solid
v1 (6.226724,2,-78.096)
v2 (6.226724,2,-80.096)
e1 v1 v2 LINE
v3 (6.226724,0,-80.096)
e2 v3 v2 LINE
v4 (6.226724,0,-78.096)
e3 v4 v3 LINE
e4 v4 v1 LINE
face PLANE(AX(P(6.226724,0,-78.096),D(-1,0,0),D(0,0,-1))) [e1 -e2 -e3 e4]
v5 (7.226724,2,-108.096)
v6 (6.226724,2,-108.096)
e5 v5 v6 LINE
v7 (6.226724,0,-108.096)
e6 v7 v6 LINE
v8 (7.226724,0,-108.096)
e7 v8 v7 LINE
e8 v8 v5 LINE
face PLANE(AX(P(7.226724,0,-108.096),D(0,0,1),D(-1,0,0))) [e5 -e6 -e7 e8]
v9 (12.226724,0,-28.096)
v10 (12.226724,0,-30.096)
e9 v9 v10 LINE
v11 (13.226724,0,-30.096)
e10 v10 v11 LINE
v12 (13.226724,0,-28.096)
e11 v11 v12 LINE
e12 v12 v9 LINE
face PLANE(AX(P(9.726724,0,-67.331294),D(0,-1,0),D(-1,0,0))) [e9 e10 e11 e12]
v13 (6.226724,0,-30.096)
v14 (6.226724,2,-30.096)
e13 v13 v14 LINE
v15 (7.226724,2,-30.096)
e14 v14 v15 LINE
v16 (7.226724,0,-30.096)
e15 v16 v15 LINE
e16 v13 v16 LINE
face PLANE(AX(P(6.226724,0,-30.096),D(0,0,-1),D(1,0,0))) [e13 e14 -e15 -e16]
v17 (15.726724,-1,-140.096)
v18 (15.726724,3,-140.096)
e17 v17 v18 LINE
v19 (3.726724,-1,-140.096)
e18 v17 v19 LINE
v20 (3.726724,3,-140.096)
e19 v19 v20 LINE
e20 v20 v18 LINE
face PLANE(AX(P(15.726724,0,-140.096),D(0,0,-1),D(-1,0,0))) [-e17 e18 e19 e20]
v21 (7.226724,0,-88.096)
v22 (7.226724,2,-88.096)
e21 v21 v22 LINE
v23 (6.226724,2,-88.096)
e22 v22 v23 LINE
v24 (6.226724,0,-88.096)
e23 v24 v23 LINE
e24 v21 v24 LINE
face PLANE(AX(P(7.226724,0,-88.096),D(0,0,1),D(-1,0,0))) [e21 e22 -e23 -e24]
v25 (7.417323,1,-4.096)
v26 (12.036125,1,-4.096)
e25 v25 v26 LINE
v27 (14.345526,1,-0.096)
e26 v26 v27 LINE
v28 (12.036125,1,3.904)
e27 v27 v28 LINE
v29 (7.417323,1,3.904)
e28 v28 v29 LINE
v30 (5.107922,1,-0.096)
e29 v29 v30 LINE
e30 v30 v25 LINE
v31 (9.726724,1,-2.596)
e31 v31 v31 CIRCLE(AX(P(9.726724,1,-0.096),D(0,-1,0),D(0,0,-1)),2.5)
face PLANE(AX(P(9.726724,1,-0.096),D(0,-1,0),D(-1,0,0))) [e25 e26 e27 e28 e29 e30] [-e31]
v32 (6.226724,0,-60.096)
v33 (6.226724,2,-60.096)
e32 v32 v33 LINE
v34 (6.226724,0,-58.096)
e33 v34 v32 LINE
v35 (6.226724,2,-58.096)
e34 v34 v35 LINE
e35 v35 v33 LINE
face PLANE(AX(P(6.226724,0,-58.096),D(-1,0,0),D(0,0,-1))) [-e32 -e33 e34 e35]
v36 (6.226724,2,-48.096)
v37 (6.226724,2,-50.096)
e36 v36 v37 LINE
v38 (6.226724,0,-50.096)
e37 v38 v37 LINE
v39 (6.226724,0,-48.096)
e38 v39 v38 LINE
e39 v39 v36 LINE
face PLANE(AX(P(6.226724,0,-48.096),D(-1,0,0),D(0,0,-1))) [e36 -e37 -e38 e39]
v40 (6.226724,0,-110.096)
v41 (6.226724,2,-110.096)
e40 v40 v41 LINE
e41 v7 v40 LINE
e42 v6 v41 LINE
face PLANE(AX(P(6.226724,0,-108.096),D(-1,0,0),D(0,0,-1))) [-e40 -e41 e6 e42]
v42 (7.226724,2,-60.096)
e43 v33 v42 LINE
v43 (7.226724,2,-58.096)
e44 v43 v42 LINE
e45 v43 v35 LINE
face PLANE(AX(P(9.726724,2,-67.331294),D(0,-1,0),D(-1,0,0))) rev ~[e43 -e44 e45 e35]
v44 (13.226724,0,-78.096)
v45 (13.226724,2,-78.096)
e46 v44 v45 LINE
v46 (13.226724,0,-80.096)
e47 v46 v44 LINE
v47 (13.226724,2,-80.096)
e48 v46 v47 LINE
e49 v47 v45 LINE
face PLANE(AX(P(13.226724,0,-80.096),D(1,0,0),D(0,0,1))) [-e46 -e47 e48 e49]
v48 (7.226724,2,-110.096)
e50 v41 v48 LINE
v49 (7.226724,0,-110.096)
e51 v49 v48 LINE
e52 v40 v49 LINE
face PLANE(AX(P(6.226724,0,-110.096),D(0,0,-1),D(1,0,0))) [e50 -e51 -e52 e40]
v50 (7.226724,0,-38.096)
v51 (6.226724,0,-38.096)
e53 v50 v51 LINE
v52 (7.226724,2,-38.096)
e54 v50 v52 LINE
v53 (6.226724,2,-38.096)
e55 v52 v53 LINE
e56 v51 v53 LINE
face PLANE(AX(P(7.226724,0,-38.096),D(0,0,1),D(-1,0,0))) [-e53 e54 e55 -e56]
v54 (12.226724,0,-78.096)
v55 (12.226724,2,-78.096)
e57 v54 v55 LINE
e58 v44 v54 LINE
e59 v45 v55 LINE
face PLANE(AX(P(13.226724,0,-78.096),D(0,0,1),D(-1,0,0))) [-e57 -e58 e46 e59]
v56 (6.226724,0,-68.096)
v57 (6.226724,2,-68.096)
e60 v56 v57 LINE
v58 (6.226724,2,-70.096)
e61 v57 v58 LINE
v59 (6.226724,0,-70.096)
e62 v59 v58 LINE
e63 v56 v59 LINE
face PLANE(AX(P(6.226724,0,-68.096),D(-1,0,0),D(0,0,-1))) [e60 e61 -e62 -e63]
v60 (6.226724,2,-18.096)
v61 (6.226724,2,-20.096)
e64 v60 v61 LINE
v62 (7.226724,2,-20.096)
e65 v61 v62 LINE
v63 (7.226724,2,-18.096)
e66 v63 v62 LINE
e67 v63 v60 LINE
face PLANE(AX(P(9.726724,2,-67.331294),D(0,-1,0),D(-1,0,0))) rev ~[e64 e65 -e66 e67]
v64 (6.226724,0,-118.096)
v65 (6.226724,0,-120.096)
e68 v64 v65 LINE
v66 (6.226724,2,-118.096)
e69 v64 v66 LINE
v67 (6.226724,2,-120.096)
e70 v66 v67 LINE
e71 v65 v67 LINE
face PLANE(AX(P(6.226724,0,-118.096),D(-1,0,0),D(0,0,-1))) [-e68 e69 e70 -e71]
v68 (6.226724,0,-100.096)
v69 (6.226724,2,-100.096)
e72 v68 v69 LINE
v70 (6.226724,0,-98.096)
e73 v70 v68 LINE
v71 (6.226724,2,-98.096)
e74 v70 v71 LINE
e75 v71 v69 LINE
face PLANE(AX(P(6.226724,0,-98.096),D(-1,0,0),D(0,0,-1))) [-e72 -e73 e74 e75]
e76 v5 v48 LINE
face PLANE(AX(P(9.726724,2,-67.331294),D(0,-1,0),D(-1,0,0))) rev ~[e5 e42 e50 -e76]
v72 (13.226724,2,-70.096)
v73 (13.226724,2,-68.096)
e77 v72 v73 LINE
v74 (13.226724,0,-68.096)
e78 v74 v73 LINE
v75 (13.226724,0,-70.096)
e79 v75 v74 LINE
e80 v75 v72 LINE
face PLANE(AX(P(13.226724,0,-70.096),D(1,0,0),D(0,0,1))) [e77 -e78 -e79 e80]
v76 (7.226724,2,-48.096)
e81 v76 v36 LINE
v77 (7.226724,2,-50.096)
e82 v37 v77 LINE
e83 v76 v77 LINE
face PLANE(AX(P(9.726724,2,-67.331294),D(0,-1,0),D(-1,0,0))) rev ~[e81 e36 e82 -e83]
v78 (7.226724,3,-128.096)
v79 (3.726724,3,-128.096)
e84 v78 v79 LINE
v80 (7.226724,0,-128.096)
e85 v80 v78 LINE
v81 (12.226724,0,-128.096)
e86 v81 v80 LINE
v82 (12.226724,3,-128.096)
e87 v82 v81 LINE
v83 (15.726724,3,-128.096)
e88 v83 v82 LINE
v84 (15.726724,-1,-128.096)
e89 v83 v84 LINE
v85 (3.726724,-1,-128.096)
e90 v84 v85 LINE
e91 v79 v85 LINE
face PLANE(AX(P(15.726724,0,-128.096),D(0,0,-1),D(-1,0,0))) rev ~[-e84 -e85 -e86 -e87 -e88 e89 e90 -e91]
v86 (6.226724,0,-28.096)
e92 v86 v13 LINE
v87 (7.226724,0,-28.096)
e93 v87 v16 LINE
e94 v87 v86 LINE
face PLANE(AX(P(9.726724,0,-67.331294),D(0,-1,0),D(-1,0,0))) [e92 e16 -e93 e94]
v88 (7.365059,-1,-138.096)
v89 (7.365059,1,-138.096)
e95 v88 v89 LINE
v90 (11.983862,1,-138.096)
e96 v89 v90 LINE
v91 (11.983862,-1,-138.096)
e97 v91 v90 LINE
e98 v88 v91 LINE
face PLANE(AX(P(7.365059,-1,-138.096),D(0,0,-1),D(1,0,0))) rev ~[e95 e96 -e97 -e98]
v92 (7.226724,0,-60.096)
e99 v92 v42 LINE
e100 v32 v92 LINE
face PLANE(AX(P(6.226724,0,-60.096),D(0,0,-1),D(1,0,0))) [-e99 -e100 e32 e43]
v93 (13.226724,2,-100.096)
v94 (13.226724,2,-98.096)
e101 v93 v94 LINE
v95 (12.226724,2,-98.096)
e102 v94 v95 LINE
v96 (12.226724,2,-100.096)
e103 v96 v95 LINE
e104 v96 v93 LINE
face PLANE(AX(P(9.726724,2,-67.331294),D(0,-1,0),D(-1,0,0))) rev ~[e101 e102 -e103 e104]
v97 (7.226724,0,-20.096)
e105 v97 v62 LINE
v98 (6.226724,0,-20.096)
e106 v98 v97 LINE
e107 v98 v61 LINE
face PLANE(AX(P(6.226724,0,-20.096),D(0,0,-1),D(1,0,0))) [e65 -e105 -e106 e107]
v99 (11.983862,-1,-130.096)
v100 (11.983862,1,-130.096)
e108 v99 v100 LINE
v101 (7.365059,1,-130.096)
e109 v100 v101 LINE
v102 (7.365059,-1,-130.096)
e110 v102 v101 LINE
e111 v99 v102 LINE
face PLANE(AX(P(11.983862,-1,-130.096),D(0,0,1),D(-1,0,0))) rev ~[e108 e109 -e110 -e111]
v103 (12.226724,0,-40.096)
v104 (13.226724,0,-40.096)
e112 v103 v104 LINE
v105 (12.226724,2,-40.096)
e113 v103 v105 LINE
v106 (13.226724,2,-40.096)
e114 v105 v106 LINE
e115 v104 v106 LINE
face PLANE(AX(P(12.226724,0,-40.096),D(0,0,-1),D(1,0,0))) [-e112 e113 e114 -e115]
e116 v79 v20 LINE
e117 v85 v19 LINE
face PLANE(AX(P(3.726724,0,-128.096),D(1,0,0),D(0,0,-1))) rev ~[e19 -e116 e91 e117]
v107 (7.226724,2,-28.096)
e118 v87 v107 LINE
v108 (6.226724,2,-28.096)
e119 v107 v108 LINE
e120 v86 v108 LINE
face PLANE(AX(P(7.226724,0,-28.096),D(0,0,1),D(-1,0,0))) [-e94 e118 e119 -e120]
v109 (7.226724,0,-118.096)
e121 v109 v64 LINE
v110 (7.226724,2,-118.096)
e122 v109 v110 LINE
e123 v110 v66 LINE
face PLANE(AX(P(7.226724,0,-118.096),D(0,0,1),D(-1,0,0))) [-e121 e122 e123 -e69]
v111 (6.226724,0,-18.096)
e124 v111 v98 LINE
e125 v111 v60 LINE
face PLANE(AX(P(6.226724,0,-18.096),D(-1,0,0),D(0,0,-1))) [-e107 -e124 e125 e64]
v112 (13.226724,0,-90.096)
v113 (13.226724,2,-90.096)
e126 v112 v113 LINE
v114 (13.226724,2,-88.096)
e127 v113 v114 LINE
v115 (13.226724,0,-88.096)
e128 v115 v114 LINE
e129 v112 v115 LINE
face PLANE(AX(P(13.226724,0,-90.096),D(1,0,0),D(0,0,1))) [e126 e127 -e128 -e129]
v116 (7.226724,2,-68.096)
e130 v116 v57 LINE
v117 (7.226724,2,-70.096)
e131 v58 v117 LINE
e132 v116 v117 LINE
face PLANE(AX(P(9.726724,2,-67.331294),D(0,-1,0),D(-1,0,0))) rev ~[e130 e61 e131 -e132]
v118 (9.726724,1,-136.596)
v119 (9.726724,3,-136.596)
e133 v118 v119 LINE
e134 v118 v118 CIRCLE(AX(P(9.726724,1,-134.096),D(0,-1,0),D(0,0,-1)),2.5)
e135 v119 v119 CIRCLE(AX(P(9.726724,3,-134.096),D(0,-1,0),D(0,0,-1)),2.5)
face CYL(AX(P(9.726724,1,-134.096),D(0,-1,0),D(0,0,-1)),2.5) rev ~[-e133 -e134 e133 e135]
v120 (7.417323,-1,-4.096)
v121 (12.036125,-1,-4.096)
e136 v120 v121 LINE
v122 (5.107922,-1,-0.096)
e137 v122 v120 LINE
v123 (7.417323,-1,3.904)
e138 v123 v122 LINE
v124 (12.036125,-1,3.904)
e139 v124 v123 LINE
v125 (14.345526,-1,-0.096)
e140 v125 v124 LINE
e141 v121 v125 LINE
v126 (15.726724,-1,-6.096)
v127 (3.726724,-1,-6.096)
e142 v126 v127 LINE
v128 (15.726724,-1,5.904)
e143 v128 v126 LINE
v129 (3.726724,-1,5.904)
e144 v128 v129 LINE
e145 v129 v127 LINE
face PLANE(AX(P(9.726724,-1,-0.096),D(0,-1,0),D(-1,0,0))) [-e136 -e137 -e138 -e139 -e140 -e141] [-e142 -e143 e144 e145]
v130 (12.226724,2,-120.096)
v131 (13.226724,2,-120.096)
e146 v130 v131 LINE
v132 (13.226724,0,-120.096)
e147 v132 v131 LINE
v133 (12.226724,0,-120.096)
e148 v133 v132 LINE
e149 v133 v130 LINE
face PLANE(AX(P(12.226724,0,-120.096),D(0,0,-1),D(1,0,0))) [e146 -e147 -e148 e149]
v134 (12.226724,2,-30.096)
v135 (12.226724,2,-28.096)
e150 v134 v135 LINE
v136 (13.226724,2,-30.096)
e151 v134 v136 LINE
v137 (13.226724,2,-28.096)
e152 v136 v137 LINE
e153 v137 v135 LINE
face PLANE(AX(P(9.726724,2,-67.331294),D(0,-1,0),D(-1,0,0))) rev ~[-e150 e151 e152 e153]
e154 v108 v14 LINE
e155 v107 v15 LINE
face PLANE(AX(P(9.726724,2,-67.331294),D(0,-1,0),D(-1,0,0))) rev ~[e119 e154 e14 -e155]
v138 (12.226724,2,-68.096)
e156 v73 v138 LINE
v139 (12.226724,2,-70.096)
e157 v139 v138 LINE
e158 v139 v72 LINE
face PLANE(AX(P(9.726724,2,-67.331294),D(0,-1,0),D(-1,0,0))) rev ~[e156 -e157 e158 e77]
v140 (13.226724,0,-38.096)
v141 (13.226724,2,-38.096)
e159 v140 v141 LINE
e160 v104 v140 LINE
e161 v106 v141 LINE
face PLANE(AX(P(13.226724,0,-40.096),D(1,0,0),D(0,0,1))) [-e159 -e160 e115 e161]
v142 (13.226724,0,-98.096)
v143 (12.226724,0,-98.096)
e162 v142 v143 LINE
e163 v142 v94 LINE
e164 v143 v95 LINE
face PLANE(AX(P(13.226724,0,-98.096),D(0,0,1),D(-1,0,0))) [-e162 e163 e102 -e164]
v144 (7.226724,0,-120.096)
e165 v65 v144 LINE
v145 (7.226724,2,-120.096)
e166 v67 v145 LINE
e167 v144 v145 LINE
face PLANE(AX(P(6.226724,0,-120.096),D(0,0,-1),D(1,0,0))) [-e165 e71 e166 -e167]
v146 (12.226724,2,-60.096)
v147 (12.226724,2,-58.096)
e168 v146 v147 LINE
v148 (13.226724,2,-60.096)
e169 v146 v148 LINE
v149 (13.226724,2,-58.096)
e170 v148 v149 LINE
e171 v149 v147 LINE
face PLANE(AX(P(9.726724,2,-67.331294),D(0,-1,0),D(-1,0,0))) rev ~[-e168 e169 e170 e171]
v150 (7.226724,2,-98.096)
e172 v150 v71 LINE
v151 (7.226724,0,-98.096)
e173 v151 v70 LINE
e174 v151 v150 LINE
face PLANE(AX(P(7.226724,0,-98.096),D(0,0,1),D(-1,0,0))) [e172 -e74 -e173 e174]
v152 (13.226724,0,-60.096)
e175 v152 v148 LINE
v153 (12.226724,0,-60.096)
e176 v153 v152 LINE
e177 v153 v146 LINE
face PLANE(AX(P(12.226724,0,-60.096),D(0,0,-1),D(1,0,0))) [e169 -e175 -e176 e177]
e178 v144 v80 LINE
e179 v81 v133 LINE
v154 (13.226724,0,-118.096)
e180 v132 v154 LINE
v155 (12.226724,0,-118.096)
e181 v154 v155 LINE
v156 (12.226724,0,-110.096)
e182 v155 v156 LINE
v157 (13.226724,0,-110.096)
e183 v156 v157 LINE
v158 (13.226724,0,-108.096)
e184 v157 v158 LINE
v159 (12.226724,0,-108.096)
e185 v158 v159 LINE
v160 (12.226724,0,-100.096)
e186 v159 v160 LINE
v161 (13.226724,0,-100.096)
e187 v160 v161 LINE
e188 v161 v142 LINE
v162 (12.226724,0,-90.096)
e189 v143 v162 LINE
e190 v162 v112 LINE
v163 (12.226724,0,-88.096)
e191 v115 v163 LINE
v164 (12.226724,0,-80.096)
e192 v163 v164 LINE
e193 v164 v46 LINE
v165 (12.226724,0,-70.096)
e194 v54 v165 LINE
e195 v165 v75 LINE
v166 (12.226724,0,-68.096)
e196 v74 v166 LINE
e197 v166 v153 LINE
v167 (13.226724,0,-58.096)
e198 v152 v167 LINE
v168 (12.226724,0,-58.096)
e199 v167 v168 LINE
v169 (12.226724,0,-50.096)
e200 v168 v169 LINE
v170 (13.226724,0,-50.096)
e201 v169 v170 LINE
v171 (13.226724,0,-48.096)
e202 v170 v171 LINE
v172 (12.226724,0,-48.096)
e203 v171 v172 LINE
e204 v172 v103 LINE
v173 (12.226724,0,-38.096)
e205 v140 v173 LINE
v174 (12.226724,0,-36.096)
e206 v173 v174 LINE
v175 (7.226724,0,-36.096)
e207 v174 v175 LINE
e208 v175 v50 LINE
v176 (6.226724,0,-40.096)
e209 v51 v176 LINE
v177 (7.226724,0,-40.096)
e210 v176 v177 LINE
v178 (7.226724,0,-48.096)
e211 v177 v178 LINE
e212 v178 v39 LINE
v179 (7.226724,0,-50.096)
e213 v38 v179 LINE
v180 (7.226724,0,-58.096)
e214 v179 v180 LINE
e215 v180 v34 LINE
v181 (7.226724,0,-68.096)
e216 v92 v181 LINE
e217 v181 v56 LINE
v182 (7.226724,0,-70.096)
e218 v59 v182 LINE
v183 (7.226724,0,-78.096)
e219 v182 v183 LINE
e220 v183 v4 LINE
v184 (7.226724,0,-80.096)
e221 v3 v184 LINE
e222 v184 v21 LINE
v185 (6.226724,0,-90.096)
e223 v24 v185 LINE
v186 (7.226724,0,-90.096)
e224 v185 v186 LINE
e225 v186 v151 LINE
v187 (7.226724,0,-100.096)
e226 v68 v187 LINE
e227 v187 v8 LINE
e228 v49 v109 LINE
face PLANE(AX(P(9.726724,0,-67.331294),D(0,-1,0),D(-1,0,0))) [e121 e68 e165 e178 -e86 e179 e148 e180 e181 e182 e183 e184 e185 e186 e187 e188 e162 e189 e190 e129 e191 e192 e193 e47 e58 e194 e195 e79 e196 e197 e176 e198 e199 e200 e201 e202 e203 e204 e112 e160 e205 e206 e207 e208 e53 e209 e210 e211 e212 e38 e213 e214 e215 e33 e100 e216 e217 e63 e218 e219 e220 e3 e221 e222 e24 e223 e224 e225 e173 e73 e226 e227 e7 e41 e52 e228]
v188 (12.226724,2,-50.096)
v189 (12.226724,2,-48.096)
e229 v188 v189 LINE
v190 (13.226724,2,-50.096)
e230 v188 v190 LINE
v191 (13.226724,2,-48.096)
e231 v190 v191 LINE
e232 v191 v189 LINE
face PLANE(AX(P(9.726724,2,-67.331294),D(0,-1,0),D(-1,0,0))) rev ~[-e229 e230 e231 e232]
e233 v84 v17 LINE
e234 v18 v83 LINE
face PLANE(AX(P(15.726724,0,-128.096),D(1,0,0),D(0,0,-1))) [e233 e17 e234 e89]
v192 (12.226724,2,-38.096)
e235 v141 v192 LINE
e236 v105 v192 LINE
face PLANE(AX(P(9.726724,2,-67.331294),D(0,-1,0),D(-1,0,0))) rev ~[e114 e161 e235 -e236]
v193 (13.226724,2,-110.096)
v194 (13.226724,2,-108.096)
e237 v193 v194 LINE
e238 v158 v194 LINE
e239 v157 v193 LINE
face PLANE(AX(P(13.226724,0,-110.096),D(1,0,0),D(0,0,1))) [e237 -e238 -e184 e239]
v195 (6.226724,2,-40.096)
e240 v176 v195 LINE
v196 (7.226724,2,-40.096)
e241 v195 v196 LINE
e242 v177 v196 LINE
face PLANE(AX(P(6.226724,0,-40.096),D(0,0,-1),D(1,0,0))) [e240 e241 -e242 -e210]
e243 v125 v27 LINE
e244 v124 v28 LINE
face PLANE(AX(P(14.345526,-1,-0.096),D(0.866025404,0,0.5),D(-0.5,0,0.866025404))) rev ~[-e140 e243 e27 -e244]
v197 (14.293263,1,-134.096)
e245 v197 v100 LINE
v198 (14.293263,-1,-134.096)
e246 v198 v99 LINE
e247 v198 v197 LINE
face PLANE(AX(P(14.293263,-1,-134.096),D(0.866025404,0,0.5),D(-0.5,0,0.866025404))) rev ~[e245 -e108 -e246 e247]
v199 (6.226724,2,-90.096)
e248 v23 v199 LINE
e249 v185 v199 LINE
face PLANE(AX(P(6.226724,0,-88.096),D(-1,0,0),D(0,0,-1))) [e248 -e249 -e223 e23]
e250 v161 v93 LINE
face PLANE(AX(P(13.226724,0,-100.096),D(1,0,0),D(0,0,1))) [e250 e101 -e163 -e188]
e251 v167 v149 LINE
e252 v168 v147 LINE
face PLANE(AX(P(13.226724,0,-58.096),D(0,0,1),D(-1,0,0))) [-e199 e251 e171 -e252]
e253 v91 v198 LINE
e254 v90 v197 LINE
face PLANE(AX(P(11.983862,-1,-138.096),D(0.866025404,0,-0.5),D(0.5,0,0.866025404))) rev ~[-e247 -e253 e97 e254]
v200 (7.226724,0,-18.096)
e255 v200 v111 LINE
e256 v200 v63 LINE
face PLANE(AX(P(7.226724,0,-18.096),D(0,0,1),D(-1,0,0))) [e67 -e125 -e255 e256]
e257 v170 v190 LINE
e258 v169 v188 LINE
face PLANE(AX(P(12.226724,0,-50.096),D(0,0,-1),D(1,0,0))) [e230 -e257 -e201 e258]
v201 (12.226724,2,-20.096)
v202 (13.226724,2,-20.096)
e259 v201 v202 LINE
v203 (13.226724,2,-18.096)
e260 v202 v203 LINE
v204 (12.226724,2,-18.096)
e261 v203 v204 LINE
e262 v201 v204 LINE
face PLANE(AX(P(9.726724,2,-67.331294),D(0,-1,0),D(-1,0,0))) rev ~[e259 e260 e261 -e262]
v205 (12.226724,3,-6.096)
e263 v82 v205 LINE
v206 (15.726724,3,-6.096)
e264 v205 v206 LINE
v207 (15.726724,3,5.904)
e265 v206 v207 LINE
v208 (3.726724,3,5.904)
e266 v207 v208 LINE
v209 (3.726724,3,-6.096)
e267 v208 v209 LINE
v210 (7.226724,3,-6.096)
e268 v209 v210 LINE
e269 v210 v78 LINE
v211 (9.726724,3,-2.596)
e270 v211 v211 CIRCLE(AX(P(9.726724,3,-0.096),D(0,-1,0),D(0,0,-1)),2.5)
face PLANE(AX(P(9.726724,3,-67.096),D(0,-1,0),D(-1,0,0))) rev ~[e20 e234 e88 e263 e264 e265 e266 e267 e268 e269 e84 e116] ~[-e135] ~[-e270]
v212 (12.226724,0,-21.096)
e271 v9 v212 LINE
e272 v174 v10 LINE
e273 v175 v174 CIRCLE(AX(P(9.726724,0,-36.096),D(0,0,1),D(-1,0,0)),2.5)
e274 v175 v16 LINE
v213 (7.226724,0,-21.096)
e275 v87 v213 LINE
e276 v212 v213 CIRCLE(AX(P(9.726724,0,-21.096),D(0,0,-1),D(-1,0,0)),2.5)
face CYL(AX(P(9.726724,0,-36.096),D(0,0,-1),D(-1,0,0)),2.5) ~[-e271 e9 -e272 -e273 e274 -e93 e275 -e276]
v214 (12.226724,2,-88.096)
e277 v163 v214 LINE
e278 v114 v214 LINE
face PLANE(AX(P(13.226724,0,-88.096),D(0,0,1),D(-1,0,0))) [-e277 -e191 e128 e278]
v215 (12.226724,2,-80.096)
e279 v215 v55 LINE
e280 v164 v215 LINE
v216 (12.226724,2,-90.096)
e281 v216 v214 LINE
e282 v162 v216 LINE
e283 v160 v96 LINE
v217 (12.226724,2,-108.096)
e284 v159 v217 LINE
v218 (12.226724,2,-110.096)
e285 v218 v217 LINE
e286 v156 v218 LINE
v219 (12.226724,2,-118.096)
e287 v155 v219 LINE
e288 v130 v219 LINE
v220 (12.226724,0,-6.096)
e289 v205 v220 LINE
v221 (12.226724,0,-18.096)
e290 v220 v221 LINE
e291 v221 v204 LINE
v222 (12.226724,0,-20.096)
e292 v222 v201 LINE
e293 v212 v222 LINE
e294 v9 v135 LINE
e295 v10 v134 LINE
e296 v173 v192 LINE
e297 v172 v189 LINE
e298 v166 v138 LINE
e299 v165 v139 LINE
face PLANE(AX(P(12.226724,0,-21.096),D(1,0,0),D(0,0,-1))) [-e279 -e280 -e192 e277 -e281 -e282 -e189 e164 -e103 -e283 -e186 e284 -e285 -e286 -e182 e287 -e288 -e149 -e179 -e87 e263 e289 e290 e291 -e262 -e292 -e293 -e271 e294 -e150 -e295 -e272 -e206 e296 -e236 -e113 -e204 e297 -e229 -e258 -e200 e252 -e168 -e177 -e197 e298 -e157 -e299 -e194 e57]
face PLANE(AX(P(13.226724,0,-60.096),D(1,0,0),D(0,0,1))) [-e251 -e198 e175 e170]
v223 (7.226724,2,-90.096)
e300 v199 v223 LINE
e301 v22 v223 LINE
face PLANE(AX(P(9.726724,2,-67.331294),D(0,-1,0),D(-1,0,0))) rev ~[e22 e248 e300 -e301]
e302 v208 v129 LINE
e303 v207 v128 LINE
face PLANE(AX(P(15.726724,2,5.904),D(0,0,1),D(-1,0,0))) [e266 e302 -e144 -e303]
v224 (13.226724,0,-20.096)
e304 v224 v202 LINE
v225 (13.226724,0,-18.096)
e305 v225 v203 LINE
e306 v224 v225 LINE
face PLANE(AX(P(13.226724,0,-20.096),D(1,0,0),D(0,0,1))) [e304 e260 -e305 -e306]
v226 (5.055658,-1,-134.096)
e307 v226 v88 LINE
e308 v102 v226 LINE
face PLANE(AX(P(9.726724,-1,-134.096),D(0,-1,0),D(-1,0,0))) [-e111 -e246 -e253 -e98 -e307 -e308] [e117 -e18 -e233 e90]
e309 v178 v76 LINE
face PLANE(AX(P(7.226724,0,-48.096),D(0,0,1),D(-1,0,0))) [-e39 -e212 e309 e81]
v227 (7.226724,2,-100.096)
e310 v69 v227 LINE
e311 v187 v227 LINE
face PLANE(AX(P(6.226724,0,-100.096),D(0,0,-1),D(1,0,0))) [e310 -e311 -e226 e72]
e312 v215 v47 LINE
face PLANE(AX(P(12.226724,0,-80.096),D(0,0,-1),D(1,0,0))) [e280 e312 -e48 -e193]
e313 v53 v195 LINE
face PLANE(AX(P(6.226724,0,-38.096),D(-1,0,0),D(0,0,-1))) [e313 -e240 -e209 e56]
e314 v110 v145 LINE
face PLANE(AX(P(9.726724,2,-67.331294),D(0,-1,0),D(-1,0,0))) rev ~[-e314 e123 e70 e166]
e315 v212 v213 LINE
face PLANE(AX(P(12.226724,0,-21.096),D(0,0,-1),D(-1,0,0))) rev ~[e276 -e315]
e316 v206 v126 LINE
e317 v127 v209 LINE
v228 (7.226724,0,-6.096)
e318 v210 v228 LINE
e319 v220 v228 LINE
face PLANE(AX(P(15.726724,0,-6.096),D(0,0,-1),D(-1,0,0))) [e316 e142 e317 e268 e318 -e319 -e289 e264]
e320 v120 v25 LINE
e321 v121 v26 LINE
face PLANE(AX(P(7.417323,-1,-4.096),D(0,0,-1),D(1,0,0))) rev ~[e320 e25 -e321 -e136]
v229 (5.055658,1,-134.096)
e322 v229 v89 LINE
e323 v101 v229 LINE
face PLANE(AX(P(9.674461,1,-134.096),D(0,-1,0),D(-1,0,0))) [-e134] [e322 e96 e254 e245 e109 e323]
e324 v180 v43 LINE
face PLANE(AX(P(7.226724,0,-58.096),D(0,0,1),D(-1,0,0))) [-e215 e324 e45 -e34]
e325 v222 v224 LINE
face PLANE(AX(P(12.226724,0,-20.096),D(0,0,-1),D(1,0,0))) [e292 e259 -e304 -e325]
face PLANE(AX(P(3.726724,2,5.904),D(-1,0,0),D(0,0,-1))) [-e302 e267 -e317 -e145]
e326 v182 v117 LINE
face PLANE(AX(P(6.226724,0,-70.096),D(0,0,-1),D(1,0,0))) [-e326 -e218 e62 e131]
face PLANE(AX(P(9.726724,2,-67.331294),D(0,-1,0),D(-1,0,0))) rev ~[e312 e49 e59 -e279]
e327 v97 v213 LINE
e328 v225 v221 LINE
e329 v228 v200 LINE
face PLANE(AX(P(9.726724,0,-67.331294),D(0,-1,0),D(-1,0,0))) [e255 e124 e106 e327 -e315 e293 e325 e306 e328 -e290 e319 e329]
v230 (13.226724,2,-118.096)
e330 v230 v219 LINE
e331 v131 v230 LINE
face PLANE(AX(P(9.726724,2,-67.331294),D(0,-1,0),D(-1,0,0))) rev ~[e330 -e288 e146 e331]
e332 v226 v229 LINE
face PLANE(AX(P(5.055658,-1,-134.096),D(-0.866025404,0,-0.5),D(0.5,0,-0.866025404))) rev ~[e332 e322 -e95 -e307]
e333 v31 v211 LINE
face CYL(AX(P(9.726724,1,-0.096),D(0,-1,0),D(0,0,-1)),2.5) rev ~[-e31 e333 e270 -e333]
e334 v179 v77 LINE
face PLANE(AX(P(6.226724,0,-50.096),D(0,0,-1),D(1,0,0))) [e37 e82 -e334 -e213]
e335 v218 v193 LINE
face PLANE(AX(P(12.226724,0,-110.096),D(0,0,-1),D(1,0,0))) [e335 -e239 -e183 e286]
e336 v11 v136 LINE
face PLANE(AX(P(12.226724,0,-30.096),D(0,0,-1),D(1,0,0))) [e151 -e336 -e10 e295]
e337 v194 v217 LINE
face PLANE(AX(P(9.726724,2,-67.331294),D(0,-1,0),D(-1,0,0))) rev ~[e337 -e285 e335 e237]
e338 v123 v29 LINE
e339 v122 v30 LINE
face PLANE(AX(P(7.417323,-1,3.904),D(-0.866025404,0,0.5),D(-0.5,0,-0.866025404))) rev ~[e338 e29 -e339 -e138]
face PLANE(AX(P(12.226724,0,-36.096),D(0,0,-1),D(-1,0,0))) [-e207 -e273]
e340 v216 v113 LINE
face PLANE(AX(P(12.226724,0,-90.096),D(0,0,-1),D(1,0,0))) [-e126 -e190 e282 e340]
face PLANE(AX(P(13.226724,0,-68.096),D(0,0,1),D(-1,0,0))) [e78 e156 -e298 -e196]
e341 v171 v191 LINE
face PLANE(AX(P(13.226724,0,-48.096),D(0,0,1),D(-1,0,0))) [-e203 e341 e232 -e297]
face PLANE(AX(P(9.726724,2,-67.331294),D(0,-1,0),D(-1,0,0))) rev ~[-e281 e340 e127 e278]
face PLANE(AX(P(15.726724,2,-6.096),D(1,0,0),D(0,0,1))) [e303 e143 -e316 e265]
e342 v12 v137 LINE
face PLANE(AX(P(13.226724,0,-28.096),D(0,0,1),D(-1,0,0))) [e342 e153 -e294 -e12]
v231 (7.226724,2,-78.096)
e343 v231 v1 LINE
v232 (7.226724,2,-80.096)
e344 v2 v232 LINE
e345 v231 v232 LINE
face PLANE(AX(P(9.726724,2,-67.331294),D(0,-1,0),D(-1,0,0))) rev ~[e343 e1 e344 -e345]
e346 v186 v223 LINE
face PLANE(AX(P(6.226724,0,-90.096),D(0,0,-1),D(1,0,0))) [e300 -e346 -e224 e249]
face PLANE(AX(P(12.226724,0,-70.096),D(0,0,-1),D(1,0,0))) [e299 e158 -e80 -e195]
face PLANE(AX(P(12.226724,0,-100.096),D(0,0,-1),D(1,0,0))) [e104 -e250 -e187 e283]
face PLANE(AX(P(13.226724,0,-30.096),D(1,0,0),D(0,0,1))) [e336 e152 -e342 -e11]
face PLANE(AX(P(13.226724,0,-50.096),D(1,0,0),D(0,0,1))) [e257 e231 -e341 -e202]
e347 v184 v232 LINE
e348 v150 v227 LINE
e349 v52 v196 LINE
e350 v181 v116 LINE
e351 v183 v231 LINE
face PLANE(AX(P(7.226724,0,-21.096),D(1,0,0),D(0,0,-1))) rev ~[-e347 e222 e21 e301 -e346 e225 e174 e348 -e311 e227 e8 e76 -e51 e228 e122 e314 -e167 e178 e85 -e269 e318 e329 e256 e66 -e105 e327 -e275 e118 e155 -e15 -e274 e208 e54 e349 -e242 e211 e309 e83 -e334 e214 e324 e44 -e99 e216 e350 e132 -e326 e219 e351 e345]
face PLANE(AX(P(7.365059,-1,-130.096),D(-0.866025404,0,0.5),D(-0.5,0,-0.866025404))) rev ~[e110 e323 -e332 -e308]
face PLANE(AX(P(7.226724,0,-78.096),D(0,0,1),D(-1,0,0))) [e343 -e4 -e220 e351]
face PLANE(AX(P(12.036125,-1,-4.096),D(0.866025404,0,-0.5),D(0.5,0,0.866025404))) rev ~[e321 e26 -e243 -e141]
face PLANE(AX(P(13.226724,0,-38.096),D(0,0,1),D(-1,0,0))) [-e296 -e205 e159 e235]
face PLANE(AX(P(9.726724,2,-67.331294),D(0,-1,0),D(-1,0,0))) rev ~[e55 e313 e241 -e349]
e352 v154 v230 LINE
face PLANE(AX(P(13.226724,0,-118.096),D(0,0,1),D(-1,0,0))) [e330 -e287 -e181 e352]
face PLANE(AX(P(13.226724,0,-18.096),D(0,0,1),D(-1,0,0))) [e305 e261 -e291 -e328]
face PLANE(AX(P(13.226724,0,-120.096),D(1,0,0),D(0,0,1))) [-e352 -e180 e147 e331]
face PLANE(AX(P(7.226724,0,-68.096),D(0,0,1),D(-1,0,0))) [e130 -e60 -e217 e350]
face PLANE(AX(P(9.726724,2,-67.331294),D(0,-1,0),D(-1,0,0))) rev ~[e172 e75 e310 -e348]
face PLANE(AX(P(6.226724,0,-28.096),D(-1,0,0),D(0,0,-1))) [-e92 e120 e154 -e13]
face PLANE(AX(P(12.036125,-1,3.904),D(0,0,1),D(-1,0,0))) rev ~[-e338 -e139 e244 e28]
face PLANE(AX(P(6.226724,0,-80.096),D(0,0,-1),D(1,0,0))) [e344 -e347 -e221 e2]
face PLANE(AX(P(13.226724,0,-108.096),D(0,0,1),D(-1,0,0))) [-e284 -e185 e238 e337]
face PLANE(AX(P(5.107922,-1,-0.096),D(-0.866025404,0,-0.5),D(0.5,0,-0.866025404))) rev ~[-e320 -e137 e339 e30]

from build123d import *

# Parameters (mm, degrees)
BOSS_EXTRUDE1_DEPTH = 2
BOSS_EXTRUDE2_DEPTH = 1
SKETCH3_W           = 12
SKETCH3_H           = 12
BOSS_EXTRUDE3_DEPTH = 1
CUT_EXTRUDE1_DEPTH  = 2
SKETCH5_R           = 2.5
CUT_EXTRUDE2_DEPTH  = 5
SKETCH6_W           = 3
SKETCH6_H           = 15
BOSS_EXTRUDE4_DEPTH = 5
CUT_EXTRUDE3_DEPTH  = 30
SKETCH9_W           = 3
SKETCH9_H           = 7
CUT_EXTRUDE5_DEPTH  = 20
SKETCH10_W          = 5
SKETCH10_H          = 15
BOSS_EXTRUDE5_DEPTH = 3
CUT_EXTRUDE7_DEPTH  = 20


with BuildPart() as part:
    # Sketch1 → Boss-Extrude1 (new body)
    with BuildSketch(Plane(origin=(0, 0, 0), x_dir=(1, 0, 0), z_dir=(0, 1, 0))):
        Polygon((7.22672382, 6.096), (7.22672382, 18.096), (6.22672382, 18.096), (6.22672382, 20.096), (7.22672382, 20.096), (7.22672382, 28.096), (6.22672382, 28.096), (6.22672382, 30.096), (7.22672382, 30.096), (7.22672382, 38.096), (6.22672382, 38.096), (6.22672382, 40.096), (7.22672382, 40.096), (7.22672382, 48.096), (6.22672382, 48.096), (6.22672382, 50.096), (7.22672382, 50.096), (7.22672382, 58.096), (6.22672382, 58.096), (6.22672382, 60.096), (7.22672382, 60.096), (7.22672382, 68.096), (6.22672382, 68.096), (6.22672382, 70.096), (7.22672382, 70.096), (7.22672382, 78.096), (6.22672382, 78.096), (6.22672382, 80.096), (7.22672382, 80.096), (7.22672382, 88.096), (6.22672382, 88.096), (6.22672382, 90.096), (7.22672382, 90.096), (7.22672382, 98.096), (6.22672382, 98.096), (6.22672382, 100.096), (7.22672382, 100.096), (7.22672382, 108.096), (6.22672382, 108.096), (6.22672382, 110.096), (7.22672382, 110.096), (7.22672382, 118.096), (6.22672382, 118.096), (6.22672382, 120.096), (7.22672382, 120.096), (7.22672382, 128.096), (3.72672382, 128.096), (3.72672382, 140.096), (15.72672382, 140.096), (15.72672382, 128.096), (12.22672382, 128.096), (12.22672382, 120.096), (13.22672382, 120.096), (13.22672382, 118.096), (12.22672382, 118.096), (12.22672382, 110.096), (13.226723821, 110.096), (13.226723821, 108.096), (12.22672382, 108.096), (12.22672382, 100.096), (13.226723821, 100.096), (13.226723821, 98.096), (12.22672382, 98.096), (12.22672382, 90.096), (13.226723821, 90.096), (13.226723821, 88.096), (12.22672382, 88.096), (12.22672382, 80.096), (13.226723821, 80.096), (13.226723821, 78.096), (12.22672382, 78.096), (12.22672382, 70.096), (13.226723821, 70.096), (13.226723821, 68.096), (12.22672382, 68.096), (12.22672382, 60.096), (13.226723821, 60.096), (13.226723821, 58.096), (12.22672382, 58.096), (12.22672382, 50.096), (13.226723821, 50.096), (13.226723821, 48.096), (12.22672382, 48.096), (12.22672382, 40.096), (13.226723821, 40.096), (13.226723821, 38.096), (12.22672382, 38.096), (12.22672382, 30.096), (13.226723821, 30.096), (13.226723821, 28.096), (12.22672382, 28.096), (12.22672382, 20.096), (13.226723821, 20.096), (13.226723821, 18.096), (12.22672382, 18.096), (12.22672382, 6.096), (15.72672382, 6.096), (15.72672382, -5.904), (3.72672382, -5.904), (3.72672382, 6.096), align=None)
    extrude(amount=BOSS_EXTRUDE1_DEPTH)

    # Sketch2 → Boss-Extrude2 (add)
    with BuildSketch(Plane(origin=(0, 2, 0), x_dir=(1, 0, 0), z_dir=(0, 1, 0))):
        Polygon((3.72672382, 140.096), (15.72672382, 140.096), (15.72672382, 128.096), (12.22672382, 128.096), (12.22672382, 6.096), (15.72672382, 6.096), (15.72672382, -5.904), (3.72672382, -5.904), (3.72672382, 6.096), (7.22672382, 6.096), (7.22672382, 128.096), (3.72672382, 128.096), align=None)
    extrude(amount=BOSS_EXTRUDE2_DEPTH)

    # Sketch3 → Boss-Extrude3 (add)
    with BuildSketch(Plane(origin=(0, 0, 0), x_dir=(-1, 0, 0), z_dir=(0, -1, 0))):
        with Locations((-9.72672382, 134.096)):
            Rectangle(SKETCH3_W, SKETCH3_H)
        with Locations((-9.72672382, 0.096)):
            Rectangle(SKETCH3_W, SKETCH3_H)
    extrude(amount=BOSS_EXTRUDE3_DEPTH)

    # Sketch4 → Cut-Extrude1 (cut)
    with BuildSketch(Plane(origin=(0, -1, 0), x_dir=(-1, 0, 0), z_dir=(0, -1, 0))):
        Polygon((-7.365059478, 138.096), (-11.983861632, 138.096), (-14.293262708, 134.096), (-11.983861632, 130.096), (-7.365059478, 130.096), (-5.055658401, 134.096), align=None)
        Polygon((-7.417322744, 4.096), (-12.036124897, 4.096), (-14.345525974, 0.096), (-12.036124897, -3.904), (-7.417322744, -3.904), (-5.107921667, 0.096), align=None)
    extrude(amount=-CUT_EXTRUDE1_DEPTH, mode=Mode.SUBTRACT)

    # Sketch5 → Cut-Extrude2 (cut)
    with BuildSketch(Plane(origin=(0, 1, 0), x_dir=(-1, 0, 0), z_dir=(0, -1, 0))):
        with Locations(Location((-9.72672382, 0.096, 0), (0, 0, 90))):
            Circle(SKETCH5_R)
        with Locations(Location((-9.72672382, 134.096, 0), (0, 0, 90))):
            Circle(SKETCH5_R)
    extrude(amount=-CUT_EXTRUDE2_DEPTH, mode=Mode.SUBTRACT)

    # Sketch6 → Boss-Extrude4 (add)
    with BuildSketch(Plane(origin=(0, 0, 0), x_dir=(-1, 0, 0), z_dir=(0, -1, 0))):
        with Locations((-9.72672382, 28.596)):
            Rectangle(SKETCH6_W, SKETCH6_H)
    extrude(amount=BOSS_EXTRUDE4_DEPTH)

    # Sketch7 → Cut-Extrude3 (cut)
    with BuildSketch(Plane(origin=(0, 0, -36.096), x_dir=(-1, 0, 0), z_dir=(0, 0, -1))):
        with BuildLine():
            Line((-9.72672381, -5), (-8.22672382, -5))
            Line((-8.22672382, -5), (-8.22672382, -1))
            add(Edge.make_bspline(
                [(-9.72672382, -5), (-8.22672382, -5), (-8.22672382, -1)],
                knots=[6.283185307, 6.283185307, 6.283185307, 7.853981634, 7.853981634, 7.853981634], degree=2, weights=[1, 0.707106781, 1]))
        make_face()
        with BuildLine():
            Line((-11.22672382, -5), (-9.72672381, -5))
            add(Edge.make_bspline(
                [(-11.22672382, -1), (-11.22672382, -5), (-9.72672382, -5)],
                knots=[4.71238898, 4.71238898, 4.71238898, 6.283185307, 6.283185307, 6.283185307], degree=2, weights=[1, 0.707106781, 1]))
            Line((-11.22672382, -1), (-11.22672382, -5))
        make_face()
    extrude(amount=-CUT_EXTRUDE3_DEPTH, mode=Mode.SUBTRACT)

    # Sketch9 → Cut-Extrude5 (cut)
    with BuildSketch(Plane.XY.offset(-21.096)):
        with Locations((9.72672382, -3.5)):
            Rectangle(SKETCH9_W, SKETCH9_H)
    extrude(amount=-CUT_EXTRUDE5_DEPTH, mode=Mode.SUBTRACT)

    # Sketch10 → Boss-Extrude5 (add)
    with BuildSketch(Plane(origin=(0, 0, 0), x_dir=(-1, 0, 0), z_dir=(0, -1, 0))):
        with Locations((-9.72672382, 28.596)):
            Rectangle(SKETCH10_W, SKETCH10_H)
    extrude(amount=BOSS_EXTRUDE5_DEPTH)

    # Sketch11 → Cut-Extrude7 (cut)
    with BuildSketch(Plane(origin=(0, 0, -36.096), x_dir=(-1, 0, 0), z_dir=(0, 0, -1))):
        with BuildLine():
            Line((-7.22672382, -3), (-7.22672382, 0))
            ThreePointArc((-7.22672382, 0), (-9.72672382, -2.5), (-12.22672382, 0))
            Line((-12.22672382, 0), (-12.22672382, -3))
            Line((-12.22672382, -3), (-7.22672382, -3))
        make_face()
    extrude(amount=-CUT_EXTRUDE7_DEPTH, mode=Mode.SUBTRACT)


solid = part.part
